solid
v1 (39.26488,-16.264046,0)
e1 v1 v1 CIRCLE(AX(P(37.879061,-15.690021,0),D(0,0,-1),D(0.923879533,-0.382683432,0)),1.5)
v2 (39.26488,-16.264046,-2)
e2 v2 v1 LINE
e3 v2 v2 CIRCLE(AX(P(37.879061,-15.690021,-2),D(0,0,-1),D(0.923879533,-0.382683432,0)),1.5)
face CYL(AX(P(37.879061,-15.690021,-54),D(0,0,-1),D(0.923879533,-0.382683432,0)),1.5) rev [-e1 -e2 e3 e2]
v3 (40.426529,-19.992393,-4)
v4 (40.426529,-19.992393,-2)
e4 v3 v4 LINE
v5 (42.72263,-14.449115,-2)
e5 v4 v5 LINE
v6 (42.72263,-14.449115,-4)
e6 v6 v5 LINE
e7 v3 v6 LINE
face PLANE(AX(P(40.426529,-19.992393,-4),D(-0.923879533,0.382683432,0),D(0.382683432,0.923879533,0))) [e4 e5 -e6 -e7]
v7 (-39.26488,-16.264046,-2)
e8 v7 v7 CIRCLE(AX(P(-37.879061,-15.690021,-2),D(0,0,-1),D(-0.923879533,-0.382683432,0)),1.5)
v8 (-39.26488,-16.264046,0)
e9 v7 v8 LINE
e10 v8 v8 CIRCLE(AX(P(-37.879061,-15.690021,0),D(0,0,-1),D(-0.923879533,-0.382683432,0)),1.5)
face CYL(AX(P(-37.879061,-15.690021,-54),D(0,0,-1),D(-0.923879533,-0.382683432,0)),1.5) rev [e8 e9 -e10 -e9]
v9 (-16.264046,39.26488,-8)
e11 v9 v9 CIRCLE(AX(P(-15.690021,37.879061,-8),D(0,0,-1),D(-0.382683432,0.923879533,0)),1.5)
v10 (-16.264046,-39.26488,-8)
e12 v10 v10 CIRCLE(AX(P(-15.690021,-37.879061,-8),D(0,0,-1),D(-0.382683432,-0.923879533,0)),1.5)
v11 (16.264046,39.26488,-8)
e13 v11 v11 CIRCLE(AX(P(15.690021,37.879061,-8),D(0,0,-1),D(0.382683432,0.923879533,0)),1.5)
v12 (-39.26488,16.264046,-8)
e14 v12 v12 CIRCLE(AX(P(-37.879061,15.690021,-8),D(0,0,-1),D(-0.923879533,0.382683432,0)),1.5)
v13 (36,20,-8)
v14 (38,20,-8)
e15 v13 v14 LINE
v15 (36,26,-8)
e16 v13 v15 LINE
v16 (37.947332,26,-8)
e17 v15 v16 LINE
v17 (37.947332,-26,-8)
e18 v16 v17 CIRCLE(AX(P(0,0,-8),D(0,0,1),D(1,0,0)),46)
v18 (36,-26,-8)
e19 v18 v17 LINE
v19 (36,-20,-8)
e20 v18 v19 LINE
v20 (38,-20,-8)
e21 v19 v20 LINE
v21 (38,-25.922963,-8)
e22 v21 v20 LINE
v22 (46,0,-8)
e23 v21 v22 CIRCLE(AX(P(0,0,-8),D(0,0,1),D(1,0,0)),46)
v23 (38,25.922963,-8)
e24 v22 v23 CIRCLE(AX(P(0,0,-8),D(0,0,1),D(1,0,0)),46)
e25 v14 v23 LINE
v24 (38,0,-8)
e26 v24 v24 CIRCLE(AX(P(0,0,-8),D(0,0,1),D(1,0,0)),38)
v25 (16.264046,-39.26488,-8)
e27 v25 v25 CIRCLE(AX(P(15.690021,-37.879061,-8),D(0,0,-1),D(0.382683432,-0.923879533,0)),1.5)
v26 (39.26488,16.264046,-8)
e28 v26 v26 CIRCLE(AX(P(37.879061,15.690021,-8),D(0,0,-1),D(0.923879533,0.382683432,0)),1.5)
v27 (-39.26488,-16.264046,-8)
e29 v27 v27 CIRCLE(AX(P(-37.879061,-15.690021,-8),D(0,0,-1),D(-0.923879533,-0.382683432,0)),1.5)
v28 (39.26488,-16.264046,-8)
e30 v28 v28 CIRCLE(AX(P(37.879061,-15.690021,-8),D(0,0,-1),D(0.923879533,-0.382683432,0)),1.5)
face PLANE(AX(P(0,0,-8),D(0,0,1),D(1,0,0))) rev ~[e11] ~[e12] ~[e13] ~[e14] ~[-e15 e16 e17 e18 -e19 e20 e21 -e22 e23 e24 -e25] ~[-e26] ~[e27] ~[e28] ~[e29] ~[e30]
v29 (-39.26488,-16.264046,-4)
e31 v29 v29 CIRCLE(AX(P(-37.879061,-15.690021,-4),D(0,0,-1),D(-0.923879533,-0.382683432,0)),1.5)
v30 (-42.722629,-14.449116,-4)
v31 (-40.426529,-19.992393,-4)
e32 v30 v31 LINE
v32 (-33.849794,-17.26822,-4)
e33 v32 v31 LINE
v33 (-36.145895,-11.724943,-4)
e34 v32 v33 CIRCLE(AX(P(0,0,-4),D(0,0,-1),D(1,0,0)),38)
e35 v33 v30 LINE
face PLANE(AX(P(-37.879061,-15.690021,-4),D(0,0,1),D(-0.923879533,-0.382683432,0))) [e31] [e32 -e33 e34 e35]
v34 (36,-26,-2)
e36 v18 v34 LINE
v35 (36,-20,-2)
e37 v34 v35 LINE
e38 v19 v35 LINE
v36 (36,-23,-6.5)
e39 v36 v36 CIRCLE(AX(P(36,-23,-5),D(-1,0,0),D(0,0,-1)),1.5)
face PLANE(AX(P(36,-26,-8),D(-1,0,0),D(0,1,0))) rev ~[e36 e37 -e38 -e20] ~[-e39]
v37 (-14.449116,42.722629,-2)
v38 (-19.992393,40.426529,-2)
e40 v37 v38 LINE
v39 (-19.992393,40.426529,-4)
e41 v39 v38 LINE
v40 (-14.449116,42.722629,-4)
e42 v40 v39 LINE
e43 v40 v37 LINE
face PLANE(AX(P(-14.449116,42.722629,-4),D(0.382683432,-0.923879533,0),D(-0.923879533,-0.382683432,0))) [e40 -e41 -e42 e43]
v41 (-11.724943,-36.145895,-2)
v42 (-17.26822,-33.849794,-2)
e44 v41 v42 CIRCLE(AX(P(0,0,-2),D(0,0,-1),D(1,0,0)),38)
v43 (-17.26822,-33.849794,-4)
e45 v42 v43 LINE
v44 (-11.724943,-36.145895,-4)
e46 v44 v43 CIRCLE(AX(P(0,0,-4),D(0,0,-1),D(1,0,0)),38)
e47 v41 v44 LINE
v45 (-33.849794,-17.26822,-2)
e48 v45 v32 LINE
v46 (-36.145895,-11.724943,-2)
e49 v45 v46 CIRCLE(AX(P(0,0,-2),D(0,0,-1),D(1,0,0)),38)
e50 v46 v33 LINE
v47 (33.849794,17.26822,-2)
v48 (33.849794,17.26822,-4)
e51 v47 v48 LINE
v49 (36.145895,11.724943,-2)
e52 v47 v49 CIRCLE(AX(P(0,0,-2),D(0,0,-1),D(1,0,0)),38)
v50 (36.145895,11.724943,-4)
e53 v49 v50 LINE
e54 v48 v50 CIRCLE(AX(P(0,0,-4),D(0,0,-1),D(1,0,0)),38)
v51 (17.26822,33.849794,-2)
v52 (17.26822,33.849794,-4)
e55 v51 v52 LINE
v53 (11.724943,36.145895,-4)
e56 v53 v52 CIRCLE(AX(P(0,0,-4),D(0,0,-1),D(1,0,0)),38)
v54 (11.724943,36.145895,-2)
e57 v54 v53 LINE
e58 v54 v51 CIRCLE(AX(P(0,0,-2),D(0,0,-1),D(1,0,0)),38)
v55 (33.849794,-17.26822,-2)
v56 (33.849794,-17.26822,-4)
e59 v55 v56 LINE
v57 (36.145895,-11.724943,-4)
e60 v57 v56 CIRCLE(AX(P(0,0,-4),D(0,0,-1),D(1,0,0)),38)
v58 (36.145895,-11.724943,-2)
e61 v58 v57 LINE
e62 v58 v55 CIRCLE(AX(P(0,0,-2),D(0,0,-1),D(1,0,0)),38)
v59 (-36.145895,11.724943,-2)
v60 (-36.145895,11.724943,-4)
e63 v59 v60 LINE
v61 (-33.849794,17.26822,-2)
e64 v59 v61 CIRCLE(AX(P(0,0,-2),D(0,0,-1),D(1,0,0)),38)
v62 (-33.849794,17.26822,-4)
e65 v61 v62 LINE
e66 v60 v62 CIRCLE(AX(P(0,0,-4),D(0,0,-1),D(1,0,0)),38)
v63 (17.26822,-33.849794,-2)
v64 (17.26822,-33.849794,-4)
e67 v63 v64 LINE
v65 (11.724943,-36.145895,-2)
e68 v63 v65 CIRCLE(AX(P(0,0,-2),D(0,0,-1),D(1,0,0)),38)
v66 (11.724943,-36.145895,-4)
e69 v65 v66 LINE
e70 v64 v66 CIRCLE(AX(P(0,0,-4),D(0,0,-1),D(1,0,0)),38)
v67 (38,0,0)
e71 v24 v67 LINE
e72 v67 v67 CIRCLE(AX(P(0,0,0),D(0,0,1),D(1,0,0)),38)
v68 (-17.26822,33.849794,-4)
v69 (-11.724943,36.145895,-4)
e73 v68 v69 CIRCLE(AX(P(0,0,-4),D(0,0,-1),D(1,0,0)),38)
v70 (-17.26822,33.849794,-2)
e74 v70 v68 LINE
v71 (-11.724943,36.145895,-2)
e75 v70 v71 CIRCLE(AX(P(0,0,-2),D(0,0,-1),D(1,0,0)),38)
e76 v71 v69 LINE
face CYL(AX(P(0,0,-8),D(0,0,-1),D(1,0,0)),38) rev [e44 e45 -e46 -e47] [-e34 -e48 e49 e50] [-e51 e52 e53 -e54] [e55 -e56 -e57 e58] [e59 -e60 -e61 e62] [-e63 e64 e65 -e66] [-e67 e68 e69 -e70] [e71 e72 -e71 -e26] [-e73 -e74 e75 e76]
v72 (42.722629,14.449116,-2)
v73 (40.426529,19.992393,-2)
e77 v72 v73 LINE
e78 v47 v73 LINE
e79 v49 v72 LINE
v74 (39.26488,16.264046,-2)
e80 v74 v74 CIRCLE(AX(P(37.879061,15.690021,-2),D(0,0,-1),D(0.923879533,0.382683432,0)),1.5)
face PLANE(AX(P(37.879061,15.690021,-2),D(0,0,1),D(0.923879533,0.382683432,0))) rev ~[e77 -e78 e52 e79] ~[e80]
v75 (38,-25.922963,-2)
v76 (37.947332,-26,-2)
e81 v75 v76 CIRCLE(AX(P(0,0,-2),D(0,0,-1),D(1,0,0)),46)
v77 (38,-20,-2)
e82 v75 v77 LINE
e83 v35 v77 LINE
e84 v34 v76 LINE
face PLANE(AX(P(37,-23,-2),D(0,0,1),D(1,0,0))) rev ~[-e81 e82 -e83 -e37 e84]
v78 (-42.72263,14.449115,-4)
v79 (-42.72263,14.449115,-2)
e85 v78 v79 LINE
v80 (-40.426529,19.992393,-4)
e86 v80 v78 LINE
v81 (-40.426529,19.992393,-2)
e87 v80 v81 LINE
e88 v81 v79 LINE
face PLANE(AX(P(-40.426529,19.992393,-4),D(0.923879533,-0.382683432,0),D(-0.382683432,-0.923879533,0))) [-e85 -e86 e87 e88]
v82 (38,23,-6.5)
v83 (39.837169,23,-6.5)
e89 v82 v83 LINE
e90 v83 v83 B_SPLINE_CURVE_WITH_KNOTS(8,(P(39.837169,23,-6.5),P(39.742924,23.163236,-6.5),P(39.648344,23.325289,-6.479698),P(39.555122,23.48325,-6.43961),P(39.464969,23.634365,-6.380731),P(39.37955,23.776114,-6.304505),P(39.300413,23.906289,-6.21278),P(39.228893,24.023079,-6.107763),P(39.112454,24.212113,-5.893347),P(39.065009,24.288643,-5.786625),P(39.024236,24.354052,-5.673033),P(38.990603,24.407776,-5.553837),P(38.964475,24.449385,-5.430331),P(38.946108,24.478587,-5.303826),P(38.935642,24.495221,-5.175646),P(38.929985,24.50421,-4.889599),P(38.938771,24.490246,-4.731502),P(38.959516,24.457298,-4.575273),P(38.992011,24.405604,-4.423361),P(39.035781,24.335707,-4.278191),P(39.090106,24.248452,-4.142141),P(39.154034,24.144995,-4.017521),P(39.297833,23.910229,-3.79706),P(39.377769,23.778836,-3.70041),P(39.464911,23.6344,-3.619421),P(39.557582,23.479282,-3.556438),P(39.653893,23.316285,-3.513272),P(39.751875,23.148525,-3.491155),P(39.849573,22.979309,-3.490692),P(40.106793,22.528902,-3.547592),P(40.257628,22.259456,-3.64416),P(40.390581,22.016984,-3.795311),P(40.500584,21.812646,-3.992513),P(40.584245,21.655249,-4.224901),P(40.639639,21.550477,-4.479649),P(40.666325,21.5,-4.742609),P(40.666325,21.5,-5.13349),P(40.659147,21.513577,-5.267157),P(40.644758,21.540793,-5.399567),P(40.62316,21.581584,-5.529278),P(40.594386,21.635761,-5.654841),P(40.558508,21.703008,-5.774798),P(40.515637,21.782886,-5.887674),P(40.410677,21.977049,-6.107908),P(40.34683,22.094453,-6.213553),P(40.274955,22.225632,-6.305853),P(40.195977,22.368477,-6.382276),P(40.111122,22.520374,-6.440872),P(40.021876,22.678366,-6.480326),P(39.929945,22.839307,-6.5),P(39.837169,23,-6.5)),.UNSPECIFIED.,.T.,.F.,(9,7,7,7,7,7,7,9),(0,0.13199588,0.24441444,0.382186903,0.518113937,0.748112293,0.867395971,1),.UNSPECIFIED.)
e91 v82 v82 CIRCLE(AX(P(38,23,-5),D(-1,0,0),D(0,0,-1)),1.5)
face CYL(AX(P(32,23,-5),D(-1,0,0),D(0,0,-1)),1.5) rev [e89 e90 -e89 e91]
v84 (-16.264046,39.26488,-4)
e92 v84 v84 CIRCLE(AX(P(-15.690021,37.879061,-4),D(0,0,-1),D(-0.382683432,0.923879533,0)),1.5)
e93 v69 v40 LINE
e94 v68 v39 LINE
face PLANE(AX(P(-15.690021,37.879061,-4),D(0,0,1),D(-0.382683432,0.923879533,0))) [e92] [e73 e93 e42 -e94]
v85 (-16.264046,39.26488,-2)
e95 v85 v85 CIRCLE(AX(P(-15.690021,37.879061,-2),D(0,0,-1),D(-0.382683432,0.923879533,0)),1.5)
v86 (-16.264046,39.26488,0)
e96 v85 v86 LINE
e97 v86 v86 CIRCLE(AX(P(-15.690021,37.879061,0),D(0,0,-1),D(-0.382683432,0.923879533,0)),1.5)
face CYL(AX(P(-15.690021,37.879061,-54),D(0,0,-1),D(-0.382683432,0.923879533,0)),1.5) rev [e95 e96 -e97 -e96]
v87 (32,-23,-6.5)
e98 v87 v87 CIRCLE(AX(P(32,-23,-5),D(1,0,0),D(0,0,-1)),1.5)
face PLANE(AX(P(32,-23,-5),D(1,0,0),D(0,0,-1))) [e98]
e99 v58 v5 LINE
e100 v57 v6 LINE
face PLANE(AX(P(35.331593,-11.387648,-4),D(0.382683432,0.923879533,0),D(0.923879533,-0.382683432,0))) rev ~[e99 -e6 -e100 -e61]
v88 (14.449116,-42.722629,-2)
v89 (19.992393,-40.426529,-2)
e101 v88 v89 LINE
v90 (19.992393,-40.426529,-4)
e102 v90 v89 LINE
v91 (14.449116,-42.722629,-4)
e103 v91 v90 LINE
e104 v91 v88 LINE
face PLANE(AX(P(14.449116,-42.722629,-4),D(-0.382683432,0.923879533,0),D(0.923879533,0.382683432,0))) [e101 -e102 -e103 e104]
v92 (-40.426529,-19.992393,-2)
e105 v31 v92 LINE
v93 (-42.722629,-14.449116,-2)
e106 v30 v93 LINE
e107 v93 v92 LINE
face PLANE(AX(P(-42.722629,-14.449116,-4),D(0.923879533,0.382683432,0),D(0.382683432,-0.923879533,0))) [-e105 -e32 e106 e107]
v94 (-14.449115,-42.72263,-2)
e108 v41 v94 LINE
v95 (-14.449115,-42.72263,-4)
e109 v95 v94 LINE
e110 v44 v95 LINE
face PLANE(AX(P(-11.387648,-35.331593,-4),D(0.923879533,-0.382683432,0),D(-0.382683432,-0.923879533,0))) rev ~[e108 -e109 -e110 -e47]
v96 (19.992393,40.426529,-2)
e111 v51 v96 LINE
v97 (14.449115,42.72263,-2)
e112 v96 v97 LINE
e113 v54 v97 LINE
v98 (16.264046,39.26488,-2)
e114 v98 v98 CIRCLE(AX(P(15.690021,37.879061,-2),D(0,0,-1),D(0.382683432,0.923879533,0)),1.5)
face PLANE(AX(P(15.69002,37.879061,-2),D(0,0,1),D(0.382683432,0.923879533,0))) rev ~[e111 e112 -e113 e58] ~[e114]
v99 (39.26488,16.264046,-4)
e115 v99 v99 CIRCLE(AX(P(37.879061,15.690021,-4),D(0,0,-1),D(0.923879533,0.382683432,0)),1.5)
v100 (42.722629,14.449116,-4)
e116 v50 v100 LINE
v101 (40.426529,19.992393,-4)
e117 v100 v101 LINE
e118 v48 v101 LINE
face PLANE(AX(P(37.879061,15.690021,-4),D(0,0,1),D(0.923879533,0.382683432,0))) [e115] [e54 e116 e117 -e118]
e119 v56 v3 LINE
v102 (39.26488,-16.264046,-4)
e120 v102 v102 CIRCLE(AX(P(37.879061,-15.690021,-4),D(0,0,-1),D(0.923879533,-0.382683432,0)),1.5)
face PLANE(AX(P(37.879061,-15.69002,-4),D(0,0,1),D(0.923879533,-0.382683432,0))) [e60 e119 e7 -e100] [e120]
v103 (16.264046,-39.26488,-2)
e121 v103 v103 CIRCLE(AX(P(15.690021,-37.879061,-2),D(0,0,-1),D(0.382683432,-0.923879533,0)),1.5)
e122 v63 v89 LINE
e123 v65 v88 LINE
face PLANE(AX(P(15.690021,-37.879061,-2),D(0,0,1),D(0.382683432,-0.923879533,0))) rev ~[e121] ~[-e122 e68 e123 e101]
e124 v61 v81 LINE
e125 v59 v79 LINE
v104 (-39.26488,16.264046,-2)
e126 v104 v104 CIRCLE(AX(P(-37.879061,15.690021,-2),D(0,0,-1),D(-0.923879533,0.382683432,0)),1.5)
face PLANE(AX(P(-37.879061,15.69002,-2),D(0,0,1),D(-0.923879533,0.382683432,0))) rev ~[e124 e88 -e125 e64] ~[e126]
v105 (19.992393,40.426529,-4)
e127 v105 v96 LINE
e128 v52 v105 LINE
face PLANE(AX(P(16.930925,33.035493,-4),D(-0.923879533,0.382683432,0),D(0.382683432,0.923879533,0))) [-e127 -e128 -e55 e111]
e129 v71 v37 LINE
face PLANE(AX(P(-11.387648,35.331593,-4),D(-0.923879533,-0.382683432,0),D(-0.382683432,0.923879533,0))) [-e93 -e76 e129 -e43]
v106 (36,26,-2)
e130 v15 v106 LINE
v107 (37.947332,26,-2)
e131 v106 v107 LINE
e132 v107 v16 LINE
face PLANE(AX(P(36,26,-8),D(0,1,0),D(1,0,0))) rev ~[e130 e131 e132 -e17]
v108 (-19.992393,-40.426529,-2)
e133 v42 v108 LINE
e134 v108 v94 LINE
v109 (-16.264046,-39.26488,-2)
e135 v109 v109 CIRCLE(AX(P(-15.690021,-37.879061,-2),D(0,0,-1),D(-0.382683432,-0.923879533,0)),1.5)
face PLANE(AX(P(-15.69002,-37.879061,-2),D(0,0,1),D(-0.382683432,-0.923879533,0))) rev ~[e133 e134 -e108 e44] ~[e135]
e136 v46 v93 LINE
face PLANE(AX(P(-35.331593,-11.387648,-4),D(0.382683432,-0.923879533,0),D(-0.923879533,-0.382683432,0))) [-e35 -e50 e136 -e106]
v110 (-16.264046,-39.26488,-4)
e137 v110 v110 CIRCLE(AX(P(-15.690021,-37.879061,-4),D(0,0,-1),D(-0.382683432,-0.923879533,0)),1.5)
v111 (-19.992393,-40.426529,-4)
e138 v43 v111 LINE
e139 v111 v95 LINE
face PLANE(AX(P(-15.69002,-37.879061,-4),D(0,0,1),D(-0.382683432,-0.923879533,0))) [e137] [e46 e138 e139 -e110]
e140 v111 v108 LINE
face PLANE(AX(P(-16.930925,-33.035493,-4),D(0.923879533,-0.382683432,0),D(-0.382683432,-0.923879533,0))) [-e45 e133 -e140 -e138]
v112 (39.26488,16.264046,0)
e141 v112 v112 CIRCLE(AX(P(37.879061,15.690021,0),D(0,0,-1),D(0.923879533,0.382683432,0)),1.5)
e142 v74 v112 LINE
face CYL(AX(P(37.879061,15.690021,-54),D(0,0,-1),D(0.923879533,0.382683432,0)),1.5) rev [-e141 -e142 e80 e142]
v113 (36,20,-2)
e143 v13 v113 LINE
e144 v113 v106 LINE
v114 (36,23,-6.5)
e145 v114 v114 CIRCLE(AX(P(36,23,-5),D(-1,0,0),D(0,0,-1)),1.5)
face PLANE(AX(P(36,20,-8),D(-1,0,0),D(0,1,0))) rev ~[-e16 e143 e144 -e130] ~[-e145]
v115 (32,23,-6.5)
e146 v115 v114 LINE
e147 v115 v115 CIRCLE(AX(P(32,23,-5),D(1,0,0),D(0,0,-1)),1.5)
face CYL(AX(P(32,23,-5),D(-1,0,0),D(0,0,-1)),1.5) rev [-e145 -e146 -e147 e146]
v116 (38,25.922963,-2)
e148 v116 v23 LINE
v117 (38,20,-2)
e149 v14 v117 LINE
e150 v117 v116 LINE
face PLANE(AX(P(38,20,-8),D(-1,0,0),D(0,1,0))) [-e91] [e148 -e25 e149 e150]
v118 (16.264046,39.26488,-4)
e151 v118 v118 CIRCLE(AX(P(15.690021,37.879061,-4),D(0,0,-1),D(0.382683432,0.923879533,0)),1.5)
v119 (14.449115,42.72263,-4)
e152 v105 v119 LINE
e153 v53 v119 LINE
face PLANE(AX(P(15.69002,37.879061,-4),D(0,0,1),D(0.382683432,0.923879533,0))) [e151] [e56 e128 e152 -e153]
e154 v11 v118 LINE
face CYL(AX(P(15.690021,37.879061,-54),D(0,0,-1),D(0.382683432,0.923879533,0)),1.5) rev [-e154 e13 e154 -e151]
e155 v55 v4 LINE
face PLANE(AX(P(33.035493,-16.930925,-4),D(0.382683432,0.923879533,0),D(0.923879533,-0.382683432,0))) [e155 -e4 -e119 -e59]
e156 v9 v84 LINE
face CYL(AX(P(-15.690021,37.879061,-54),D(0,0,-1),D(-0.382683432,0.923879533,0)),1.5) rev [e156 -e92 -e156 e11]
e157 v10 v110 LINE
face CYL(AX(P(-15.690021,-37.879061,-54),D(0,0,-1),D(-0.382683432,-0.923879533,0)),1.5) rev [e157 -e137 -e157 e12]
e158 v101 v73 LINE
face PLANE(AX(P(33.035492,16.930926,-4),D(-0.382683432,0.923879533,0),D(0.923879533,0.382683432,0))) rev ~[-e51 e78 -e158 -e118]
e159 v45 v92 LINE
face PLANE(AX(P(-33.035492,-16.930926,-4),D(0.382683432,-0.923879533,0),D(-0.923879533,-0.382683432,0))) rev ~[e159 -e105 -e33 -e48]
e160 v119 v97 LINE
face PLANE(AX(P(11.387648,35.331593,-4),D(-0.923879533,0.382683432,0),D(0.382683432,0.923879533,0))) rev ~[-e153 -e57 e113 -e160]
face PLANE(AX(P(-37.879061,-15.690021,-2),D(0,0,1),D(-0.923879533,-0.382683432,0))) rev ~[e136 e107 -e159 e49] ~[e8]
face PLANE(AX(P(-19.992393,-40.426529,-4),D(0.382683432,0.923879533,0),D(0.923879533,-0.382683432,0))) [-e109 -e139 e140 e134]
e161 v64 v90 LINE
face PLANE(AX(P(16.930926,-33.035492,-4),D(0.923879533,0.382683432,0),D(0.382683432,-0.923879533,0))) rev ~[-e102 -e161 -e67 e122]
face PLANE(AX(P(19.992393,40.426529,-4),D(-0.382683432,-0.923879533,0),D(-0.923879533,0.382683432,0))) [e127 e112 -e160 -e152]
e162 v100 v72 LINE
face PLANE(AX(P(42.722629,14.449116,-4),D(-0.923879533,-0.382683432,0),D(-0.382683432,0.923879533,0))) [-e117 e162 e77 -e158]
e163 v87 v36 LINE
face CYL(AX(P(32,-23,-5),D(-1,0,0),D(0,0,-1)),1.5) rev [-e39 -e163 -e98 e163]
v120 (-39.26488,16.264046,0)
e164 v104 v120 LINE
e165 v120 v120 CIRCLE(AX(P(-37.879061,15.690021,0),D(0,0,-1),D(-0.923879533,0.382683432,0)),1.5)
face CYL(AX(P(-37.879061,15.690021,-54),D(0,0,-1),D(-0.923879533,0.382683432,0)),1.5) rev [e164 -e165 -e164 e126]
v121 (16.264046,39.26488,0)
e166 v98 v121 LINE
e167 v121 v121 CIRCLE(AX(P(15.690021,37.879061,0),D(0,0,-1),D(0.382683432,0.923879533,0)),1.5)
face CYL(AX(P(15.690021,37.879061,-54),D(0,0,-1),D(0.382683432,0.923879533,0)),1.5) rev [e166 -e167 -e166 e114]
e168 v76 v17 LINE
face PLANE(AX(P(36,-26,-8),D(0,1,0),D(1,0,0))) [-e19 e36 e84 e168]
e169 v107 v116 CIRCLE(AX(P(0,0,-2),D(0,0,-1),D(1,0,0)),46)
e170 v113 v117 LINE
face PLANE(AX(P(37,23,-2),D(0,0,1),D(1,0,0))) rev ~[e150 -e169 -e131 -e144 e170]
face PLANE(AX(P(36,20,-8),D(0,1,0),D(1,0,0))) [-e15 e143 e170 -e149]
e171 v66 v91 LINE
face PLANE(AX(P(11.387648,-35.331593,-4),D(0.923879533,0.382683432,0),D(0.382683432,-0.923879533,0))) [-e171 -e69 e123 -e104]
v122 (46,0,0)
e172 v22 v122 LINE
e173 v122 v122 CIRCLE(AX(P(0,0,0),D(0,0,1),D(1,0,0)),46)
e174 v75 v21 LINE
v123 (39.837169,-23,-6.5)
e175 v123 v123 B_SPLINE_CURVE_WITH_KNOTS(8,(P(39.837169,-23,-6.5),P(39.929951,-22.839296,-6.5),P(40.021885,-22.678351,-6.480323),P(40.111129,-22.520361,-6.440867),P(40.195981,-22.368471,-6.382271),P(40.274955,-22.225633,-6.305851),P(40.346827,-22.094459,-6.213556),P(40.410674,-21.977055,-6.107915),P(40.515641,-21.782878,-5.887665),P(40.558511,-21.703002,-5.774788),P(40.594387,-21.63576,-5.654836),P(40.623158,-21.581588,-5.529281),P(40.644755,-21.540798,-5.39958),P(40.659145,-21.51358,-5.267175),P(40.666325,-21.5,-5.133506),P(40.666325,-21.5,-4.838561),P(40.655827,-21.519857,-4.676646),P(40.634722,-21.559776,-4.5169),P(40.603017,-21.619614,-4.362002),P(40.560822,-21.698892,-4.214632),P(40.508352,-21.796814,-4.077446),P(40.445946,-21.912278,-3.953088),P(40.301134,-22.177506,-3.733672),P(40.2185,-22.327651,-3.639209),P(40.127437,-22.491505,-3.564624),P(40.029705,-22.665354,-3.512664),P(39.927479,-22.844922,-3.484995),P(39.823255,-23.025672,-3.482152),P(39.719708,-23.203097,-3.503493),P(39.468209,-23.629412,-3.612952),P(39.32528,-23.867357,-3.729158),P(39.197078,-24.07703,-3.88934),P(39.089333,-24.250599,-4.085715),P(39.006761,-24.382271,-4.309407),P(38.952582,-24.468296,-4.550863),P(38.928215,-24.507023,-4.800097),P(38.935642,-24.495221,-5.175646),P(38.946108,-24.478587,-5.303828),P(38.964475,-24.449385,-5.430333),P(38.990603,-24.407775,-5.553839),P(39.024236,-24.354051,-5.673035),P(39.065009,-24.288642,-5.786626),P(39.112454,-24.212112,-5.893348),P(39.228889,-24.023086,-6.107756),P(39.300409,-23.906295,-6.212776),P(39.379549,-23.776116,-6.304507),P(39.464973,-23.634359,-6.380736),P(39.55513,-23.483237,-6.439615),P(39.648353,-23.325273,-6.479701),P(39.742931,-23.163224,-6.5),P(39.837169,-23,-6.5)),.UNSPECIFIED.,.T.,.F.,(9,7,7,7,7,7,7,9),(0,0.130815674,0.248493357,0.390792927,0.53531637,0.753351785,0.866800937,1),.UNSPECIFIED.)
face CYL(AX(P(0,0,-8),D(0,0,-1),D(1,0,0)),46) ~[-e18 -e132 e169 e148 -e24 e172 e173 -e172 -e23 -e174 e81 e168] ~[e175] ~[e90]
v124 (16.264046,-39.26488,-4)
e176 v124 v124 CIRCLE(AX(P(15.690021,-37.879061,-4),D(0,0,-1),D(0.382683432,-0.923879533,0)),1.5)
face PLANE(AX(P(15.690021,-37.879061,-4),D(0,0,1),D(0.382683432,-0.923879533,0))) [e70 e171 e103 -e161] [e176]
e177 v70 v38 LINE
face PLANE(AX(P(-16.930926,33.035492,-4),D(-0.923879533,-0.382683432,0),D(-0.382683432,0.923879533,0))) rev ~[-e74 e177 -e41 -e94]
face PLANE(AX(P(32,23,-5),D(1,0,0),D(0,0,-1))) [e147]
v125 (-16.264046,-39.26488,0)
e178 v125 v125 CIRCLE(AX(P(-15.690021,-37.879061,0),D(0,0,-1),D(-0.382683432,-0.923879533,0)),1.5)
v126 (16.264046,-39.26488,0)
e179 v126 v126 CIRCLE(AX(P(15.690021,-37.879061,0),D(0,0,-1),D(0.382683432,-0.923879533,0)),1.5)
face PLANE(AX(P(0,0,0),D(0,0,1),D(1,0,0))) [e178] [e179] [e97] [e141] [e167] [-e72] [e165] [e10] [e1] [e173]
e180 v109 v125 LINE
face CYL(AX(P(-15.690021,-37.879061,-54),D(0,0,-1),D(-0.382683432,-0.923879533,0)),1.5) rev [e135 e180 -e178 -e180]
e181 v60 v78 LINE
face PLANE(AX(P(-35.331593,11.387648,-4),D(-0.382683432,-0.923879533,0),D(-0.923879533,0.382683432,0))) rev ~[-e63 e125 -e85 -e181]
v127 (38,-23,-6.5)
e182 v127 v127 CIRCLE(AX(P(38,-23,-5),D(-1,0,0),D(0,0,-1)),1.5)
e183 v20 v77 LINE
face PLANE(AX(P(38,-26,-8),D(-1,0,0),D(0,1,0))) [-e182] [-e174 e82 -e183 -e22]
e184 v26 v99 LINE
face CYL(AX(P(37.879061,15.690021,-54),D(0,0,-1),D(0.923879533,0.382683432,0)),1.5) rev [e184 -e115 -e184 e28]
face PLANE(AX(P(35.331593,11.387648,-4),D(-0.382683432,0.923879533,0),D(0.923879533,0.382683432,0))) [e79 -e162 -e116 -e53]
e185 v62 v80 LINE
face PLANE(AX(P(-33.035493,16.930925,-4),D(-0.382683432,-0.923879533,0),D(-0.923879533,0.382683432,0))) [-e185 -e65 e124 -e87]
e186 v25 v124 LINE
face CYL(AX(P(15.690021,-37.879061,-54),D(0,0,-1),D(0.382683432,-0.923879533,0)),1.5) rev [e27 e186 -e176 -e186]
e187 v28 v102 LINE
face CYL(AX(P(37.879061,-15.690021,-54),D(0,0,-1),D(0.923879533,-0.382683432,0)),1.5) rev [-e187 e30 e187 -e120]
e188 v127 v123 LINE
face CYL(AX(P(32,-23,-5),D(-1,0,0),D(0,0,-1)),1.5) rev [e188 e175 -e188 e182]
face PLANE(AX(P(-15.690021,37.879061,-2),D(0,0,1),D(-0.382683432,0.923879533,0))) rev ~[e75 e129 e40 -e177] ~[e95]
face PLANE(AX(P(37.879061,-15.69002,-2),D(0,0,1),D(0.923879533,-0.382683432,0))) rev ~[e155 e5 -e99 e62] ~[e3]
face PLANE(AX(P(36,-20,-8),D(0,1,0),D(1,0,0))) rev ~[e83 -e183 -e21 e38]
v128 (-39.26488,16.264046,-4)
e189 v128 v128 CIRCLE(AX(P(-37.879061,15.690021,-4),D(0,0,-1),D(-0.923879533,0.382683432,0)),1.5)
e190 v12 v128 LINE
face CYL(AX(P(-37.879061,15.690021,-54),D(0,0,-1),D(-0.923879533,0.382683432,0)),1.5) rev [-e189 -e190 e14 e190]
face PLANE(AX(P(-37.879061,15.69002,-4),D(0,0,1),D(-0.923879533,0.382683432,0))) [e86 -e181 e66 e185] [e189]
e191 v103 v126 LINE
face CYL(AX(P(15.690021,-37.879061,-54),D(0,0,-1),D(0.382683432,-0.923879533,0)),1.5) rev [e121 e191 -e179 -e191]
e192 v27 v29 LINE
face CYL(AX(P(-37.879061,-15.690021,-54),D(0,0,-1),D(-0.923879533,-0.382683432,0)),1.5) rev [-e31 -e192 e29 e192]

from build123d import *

# Parameters (mm, degrees)
CYLINDER1274_R               = 1.5
CYLINDER1274_DEPTH           = 60
CYLINDER1276_R               = 1.5
CYLINDER1276_DEPTH           = 60
CYLINDER1273_R               = 1.5
CYLINDER1273_DEPTH           = 60
CYLINDER1275_R               = 1.5
CYLINDER1275_DEPTH           = 60
BOX543_W                     = 2
BOX543_H                     = 6
BOX543_DEPTH                 = 6
BOX542_W                     = 2
BOX542_H                     = 6
BOX542_DEPTH                 = 6
BOX541_W                     = 2
BOX541_H                     = 6
BOX541_DEPTH                 = 6
BOX540_W                     = 2
BOX540_H                     = 6
BOX540_DEPTH                 = 6
BOX533_W                     = 8
BOX533_H                     = 6
BOX533_DEPTH                 = 2
BOX539_W                     = 8
BOX539_H                     = 6
BOX539_DEPTH                 = 2
BOX539_PLACEMENT_ANGLE       = 135
BOX534_W                     = 8
BOX534_H                     = 6
BOX534_DEPTH                 = 2
BOX536_W                     = 8
BOX536_H                     = 6
BOX536_DEPTH                 = 2
BOX536_PLACEMENT_ANGLE       = 225
BOX537_W                     = 8
BOX537_H                     = 6
BOX537_DEPTH                 = 2
BOX538_W                     = 8
BOX538_H                     = 6
BOX538_DEPTH                 = 2
BOX538_PLACEMENT_ANGLE       = 45
BOX532_W                     = 8
BOX532_H                     = 6
BOX532_DEPTH                 = 2
BOX535_W                     = 8
BOX535_H                     = 6
BOX535_DEPTH                 = 2
BOX535_PLACEMENT_ANGLE       = 45
COMPOUND921_PLACEMENT_ANGLE  = 22.5
CYLINDER1272_R               = 1.5
CYLINDER1272_DEPTH           = 60
CYLINDER1271_R               = 1.5
CYLINDER1271_DEPTH           = 60
CYLINDER1271_PLACEMENT_ANGLE = 135
CYLINDER1266_R               = 1.5
CYLINDER1266_DEPTH           = 60
CYLINDER1267_R               = 1.5
CYLINDER1267_DEPTH           = 60
CYLINDER1267_PLACEMENT_ANGLE = 225
CYLINDER1270_R               = 1.5
CYLINDER1270_DEPTH           = 60
CYLINDER1268_R               = 1.5
CYLINDER1268_DEPTH           = 60
CYLINDER1268_PLACEMENT_ANGLE = 45
CYLINDER1265_R               = 1.5
CYLINDER1265_DEPTH           = 60
CYLINDER1269_R               = 1.5
CYLINDER1269_DEPTH           = 60
CYLINDER1269_PLACEMENT_ANGLE = 45
COMPOUND919_PLACEMENT_ANGLE  = 22.5
TUBE112_R                    = 46
TUBE112_R_2                  = 38
TUBE112_DEPTH                = 8


with BuildPart() as v_lec1274:
    # Cylinder1274 → Cylinder1274 (new body)
    with BuildSketch(Plane(origin=(32, -23, -5), x_dir=(0, 0, -1), z_dir=(1, 0, 0))):
        Circle(CYLINDER1274_R)
    extrude(amount=CYLINDER1274_DEPTH)


with BuildPart() as v_lec1276:
    # Cylinder1276 → Cylinder1276 (new body)
    with BuildSketch(Plane(origin=(28, 51, 7), x_dir=(0, 0, -1), z_dir=(1, 0, 0))):
        Circle(CYLINDER1276_R)
    extrude(amount=CYLINDER1276_DEPTH)


with BuildPart() as v_lec1273:
    # Cylinder1273 → Cylinder1273 (new body)
    with BuildSketch(Plane(origin=(28, -51, 7), x_dir=(0, 0, -1), z_dir=(1, 0, 0))):
        Circle(CYLINDER1273_R)
    extrude(amount=CYLINDER1273_DEPTH)


with BuildPart() as compound920:
    # Cylinder1275 → Cylinder1275 (new body)
    with BuildSketch(Plane(origin=(32, 23, -5), x_dir=(0, 0, -1), z_dir=(1, 0, 0))):
        Circle(CYLINDER1275_R)
    extrude(amount=CYLINDER1275_DEPTH)

    # Compound920: union Válec1274, Válec1276, Válec1273
    add(v_lec1274.part)
    add(v_lec1276.part)
    add(v_lec1273.part)


with BuildPart() as krychle543:
    # Box543 → Box543 (new body)
    with BuildSketch(Plane(origin=(36, -26, -8), x_dir=(1, 0, 0), z_dir=(0, 0, 1))):
        with Locations((1, 3)):
            Rectangle(BOX543_W, BOX543_H)
    extrude(amount=BOX543_DEPTH)


with BuildPart() as krychle542:
    # Box542 → Box542 (new body)
    with BuildSketch(Plane(origin=(32, 48, 4), x_dir=(1, 0, 0), z_dir=(0, 0, 1))):
        with Locations((1, 3)):
            Rectangle(BOX542_W, BOX542_H)
    extrude(amount=BOX542_DEPTH)


with BuildPart() as krychle541:
    # Box541 → Box541 (new body)
    with BuildSketch(Plane(origin=(32, -54, 4), x_dir=(1, 0, 0), z_dir=(0, 0, 1))):
        with Locations((1, 3)):
            Rectangle(BOX541_W, BOX541_H)
    extrude(amount=BOX541_DEPTH)


with BuildPart() as compound922:
    # Box540 → Box540 (new body)
    with BuildSketch(Plane(origin=(36, 20, -8), x_dir=(1, 0, 0), z_dir=(0, 0, 1))):
        with Locations((1, 3)):
            Rectangle(BOX540_W, BOX540_H)
    extrude(amount=BOX540_DEPTH)

    # Compound922: union Krychle543, Krychle542, Krychle541
    add(krychle543.part)
    add(krychle542.part)
    add(krychle541.part)


with BuildPart() as krychle533:
    # Box533 → Box533 (new body)
    with BuildSketch(Plane(origin=(3, 37, -4), x_dir=(0, 1, 0), z_dir=(0, 0, 1))):
        with Locations((4, 3)):
            Rectangle(BOX533_W, BOX533_H)
    extrude(amount=BOX533_DEPTH)


with BuildPart() as krychle539:
    # Box539 → Box539 (new body)
    with BuildSketch(Plane.XY):
        with Locations((4, 3)):
            Rectangle(BOX539_W, BOX539_H)
    extrude(amount=BOX539_DEPTH)


with BuildPart() as krychle539_1:
    # Box539 placement: moved
    add(krychle539.part.moved(Location((-24.041631, 28.284271, -4))).rotate(Axis((-24.041631, 28.284271, -4), (0, 0, 1)), BOX539_PLACEMENT_ANGLE))


with BuildPart() as krychle534:
    # Box534 → Box534 (new body)
    with BuildSketch(Plane(origin=(-37, 3, -4), x_dir=(-1, 0, 0), z_dir=(0, 0, 1))):
        with Locations((4, 3)):
            Rectangle(BOX534_W, BOX534_H)
    extrude(amount=BOX534_DEPTH)


with BuildPart() as krychle536:
    # Box536 → Box536 (new body)
    with BuildSketch(Plane.XY):
        with Locations((4, 3)):
            Rectangle(BOX536_W, BOX536_H)
    extrude(amount=BOX536_DEPTH)


with BuildPart() as krychle536_1:
    # Box536 placement: moved
    add(krychle536.part.moved(Location((-28.284271, -24.041631, -4))).rotate(Axis((-28.284271, -24.041631, -4), (0, 0, 1)), BOX536_PLACEMENT_ANGLE))


with BuildPart() as krychle537:
    # Box537 → Box537 (new body)
    with BuildSketch(Plane(origin=(-3, -37, -4), x_dir=(0, -1, 0), z_dir=(0, 0, 1))):
        with Locations((4, 3)):
            Rectangle(BOX537_W, BOX537_H)
    extrude(amount=BOX537_DEPTH)


with BuildPart() as krychle538:
    # Box538 → Box538 (new body)
    with BuildSketch(Plane.XY):
        with Locations((4, 3)):
            Rectangle(BOX538_W, BOX538_H)
    extrude(amount=BOX538_DEPTH)


with BuildPart() as krychle538_1:
    # Box538 placement: moved
    add(krychle538.part.moved(Location((24.041631, -28.284271, -4))).rotate(Axis((24.041631, -28.284271, -4), (0, 0, -1)), BOX538_PLACEMENT_ANGLE))


with BuildPart() as krychle532:
    # Box532 → Box532 (new body)
    with BuildSketch(Plane(origin=(37, -3, -4), x_dir=(1, 0, 0), z_dir=(0, 0, 1))):
        with Locations((4, 3)):
            Rectangle(BOX532_W, BOX532_H)
    extrude(amount=BOX532_DEPTH)


with BuildPart() as compound921:
    # Box535 → Box535 (new body)
    with BuildSketch(Plane.XY):
        with Locations((4, 3)):
            Rectangle(BOX535_W, BOX535_H)
    extrude(amount=BOX535_DEPTH)


with BuildPart() as compound921_1:
    # Box535 placement: moved
    add(compound921.part.moved(Location((28.284271, 24.041631, -4))).rotate(Axis((28.284271, 24.041631, -4), (0, 0, 1)), BOX535_PLACEMENT_ANGLE))

    # Compound921: union Krychle533, Krychle539, Krychle534, Krychle536, Krychle537, Krychle538, Krychle532
    add(krychle533.part)
    add(krychle539_1.part)
    add(krychle534.part)
    add(krychle536_1.part)
    add(krychle537.part)
    add(krychle538_1.part)
    add(krychle532.part)


with BuildPart() as compound921_2:
    # Compound921 placement: moved
    add(compound921_1.part.rotate(Axis((0, 0, 0), (0, 0, 1)), COMPOUND921_PLACEMENT_ANGLE))


with BuildPart() as v_lec1272:
    # Cylinder1272 → Cylinder1272 (new body)
    with BuildSketch(Plane(origin=(0, 41, -54), x_dir=(0, 1, 0), z_dir=(0, 0, 1))):
        Circle(CYLINDER1272_R)
    extrude(amount=CYLINDER1272_DEPTH)


with BuildPart() as v_lec1271:
    # Cylinder1271 → Cylinder1271 (new body)
    with BuildSketch(Plane.XY):
        Circle(CYLINDER1271_R)
    extrude(amount=CYLINDER1271_DEPTH)


with BuildPart() as v_lec1271_1:
    # Cylinder1271 placement: moved
    add(v_lec1271.part.moved(Location((-28.991378, 28.991378, -54))).rotate(Axis((-28.991378, 28.991378, -54), (0, 0, 1)), CYLINDER1271_PLACEMENT_ANGLE))


with BuildPart() as v_lec1266:
    # Cylinder1266 → Cylinder1266 (new body)
    with BuildSketch(Plane(origin=(-41, 0, -54), x_dir=(-1, 0, 0), z_dir=(0, 0, 1))):
        Circle(CYLINDER1266_R)
    extrude(amount=CYLINDER1266_DEPTH)


with BuildPart() as v_lec1267:
    # Cylinder1267 → Cylinder1267 (new body)
    with BuildSketch(Plane.XY):
        Circle(CYLINDER1267_R)
    extrude(amount=CYLINDER1267_DEPTH)


with BuildPart() as v_lec1267_1:
    # Cylinder1267 placement: moved
    add(v_lec1267.part.moved(Location((-28.991378, -28.991378, -54))).rotate(Axis((-28.991378, -28.991378, -54), (0, 0, 1)), CYLINDER1267_PLACEMENT_ANGLE))


with BuildPart() as v_lec1270:
    # Cylinder1270 → Cylinder1270 (new body)
    with BuildSketch(Plane(origin=(0, -41, -54), x_dir=(0, -1, 0), z_dir=(0, 0, 1))):
        Circle(CYLINDER1270_R)
    extrude(amount=CYLINDER1270_DEPTH)


with BuildPart() as v_lec1268:
    # Cylinder1268 → Cylinder1268 (new body)
    with BuildSketch(Plane.XY):
        Circle(CYLINDER1268_R)
    extrude(amount=CYLINDER1268_DEPTH)


with BuildPart() as v_lec1268_1:
    # Cylinder1268 placement: moved
    add(v_lec1268.part.moved(Location((28.991378, -28.991378, -54))).rotate(Axis((28.991378, -28.991378, -54), (0, 0, -1)), CYLINDER1268_PLACEMENT_ANGLE))


with BuildPart() as v_lec1265:
    # Cylinder1265 → Cylinder1265 (new body)
    with BuildSketch(Plane(origin=(41, 0, -54), x_dir=(1, 0, 0), z_dir=(0, 0, 1))):
        Circle(CYLINDER1265_R)
    extrude(amount=CYLINDER1265_DEPTH)


with BuildPart() as compound919:
    # Cylinder1269 → Cylinder1269 (new body)
    with BuildSketch(Plane.XY):
        Circle(CYLINDER1269_R)
    extrude(amount=CYLINDER1269_DEPTH)


with BuildPart() as compound919_1:
    # Cylinder1269 placement: moved
    add(compound919.part.moved(Location((28.991378, 28.991378, -54))).rotate(Axis((28.991378, 28.991378, -54), (0, 0, 1)), CYLINDER1269_PLACEMENT_ANGLE))

    # Compound919: union Válec1272, Válec1271, Válec1266, Válec1267, Válec1270, Válec1268, Válec1265
    add(v_lec1272.part)
    add(v_lec1271_1.part)
    add(v_lec1266.part)
    add(v_lec1267_1.part)
    add(v_lec1270.part)
    add(v_lec1268_1.part)
    add(v_lec1265.part)


with BuildPart() as compound919_2:
    # Compound919 placement: moved
    add(compound919_1.part.rotate(Axis((0, 0, 0), (0, 0, 1)), COMPOUND919_PLACEMENT_ANGLE))


with BuildPart() as cut464:
    # Tube112 → Tube112 (new body)
    with BuildSketch(Plane.XY.offset(-8)):
        Circle(TUBE112_R)
        Circle(TUBE112_R_2, mode=Mode.SUBTRACT)
    extrude(amount=TUBE112_DEPTH)

    # Cut461: cut Compound919
    add(compound919_2.part, mode=Mode.SUBTRACT)

    # Cut462: cut Compound921
    add(compound921_2.part, mode=Mode.SUBTRACT)

    # Cut463: cut Compound922
    add(compound922.part, mode=Mode.SUBTRACT)

    # Cut464: cut Compound920
    add(compound920.part, mode=Mode.SUBTRACT)


solid = cut464.part
